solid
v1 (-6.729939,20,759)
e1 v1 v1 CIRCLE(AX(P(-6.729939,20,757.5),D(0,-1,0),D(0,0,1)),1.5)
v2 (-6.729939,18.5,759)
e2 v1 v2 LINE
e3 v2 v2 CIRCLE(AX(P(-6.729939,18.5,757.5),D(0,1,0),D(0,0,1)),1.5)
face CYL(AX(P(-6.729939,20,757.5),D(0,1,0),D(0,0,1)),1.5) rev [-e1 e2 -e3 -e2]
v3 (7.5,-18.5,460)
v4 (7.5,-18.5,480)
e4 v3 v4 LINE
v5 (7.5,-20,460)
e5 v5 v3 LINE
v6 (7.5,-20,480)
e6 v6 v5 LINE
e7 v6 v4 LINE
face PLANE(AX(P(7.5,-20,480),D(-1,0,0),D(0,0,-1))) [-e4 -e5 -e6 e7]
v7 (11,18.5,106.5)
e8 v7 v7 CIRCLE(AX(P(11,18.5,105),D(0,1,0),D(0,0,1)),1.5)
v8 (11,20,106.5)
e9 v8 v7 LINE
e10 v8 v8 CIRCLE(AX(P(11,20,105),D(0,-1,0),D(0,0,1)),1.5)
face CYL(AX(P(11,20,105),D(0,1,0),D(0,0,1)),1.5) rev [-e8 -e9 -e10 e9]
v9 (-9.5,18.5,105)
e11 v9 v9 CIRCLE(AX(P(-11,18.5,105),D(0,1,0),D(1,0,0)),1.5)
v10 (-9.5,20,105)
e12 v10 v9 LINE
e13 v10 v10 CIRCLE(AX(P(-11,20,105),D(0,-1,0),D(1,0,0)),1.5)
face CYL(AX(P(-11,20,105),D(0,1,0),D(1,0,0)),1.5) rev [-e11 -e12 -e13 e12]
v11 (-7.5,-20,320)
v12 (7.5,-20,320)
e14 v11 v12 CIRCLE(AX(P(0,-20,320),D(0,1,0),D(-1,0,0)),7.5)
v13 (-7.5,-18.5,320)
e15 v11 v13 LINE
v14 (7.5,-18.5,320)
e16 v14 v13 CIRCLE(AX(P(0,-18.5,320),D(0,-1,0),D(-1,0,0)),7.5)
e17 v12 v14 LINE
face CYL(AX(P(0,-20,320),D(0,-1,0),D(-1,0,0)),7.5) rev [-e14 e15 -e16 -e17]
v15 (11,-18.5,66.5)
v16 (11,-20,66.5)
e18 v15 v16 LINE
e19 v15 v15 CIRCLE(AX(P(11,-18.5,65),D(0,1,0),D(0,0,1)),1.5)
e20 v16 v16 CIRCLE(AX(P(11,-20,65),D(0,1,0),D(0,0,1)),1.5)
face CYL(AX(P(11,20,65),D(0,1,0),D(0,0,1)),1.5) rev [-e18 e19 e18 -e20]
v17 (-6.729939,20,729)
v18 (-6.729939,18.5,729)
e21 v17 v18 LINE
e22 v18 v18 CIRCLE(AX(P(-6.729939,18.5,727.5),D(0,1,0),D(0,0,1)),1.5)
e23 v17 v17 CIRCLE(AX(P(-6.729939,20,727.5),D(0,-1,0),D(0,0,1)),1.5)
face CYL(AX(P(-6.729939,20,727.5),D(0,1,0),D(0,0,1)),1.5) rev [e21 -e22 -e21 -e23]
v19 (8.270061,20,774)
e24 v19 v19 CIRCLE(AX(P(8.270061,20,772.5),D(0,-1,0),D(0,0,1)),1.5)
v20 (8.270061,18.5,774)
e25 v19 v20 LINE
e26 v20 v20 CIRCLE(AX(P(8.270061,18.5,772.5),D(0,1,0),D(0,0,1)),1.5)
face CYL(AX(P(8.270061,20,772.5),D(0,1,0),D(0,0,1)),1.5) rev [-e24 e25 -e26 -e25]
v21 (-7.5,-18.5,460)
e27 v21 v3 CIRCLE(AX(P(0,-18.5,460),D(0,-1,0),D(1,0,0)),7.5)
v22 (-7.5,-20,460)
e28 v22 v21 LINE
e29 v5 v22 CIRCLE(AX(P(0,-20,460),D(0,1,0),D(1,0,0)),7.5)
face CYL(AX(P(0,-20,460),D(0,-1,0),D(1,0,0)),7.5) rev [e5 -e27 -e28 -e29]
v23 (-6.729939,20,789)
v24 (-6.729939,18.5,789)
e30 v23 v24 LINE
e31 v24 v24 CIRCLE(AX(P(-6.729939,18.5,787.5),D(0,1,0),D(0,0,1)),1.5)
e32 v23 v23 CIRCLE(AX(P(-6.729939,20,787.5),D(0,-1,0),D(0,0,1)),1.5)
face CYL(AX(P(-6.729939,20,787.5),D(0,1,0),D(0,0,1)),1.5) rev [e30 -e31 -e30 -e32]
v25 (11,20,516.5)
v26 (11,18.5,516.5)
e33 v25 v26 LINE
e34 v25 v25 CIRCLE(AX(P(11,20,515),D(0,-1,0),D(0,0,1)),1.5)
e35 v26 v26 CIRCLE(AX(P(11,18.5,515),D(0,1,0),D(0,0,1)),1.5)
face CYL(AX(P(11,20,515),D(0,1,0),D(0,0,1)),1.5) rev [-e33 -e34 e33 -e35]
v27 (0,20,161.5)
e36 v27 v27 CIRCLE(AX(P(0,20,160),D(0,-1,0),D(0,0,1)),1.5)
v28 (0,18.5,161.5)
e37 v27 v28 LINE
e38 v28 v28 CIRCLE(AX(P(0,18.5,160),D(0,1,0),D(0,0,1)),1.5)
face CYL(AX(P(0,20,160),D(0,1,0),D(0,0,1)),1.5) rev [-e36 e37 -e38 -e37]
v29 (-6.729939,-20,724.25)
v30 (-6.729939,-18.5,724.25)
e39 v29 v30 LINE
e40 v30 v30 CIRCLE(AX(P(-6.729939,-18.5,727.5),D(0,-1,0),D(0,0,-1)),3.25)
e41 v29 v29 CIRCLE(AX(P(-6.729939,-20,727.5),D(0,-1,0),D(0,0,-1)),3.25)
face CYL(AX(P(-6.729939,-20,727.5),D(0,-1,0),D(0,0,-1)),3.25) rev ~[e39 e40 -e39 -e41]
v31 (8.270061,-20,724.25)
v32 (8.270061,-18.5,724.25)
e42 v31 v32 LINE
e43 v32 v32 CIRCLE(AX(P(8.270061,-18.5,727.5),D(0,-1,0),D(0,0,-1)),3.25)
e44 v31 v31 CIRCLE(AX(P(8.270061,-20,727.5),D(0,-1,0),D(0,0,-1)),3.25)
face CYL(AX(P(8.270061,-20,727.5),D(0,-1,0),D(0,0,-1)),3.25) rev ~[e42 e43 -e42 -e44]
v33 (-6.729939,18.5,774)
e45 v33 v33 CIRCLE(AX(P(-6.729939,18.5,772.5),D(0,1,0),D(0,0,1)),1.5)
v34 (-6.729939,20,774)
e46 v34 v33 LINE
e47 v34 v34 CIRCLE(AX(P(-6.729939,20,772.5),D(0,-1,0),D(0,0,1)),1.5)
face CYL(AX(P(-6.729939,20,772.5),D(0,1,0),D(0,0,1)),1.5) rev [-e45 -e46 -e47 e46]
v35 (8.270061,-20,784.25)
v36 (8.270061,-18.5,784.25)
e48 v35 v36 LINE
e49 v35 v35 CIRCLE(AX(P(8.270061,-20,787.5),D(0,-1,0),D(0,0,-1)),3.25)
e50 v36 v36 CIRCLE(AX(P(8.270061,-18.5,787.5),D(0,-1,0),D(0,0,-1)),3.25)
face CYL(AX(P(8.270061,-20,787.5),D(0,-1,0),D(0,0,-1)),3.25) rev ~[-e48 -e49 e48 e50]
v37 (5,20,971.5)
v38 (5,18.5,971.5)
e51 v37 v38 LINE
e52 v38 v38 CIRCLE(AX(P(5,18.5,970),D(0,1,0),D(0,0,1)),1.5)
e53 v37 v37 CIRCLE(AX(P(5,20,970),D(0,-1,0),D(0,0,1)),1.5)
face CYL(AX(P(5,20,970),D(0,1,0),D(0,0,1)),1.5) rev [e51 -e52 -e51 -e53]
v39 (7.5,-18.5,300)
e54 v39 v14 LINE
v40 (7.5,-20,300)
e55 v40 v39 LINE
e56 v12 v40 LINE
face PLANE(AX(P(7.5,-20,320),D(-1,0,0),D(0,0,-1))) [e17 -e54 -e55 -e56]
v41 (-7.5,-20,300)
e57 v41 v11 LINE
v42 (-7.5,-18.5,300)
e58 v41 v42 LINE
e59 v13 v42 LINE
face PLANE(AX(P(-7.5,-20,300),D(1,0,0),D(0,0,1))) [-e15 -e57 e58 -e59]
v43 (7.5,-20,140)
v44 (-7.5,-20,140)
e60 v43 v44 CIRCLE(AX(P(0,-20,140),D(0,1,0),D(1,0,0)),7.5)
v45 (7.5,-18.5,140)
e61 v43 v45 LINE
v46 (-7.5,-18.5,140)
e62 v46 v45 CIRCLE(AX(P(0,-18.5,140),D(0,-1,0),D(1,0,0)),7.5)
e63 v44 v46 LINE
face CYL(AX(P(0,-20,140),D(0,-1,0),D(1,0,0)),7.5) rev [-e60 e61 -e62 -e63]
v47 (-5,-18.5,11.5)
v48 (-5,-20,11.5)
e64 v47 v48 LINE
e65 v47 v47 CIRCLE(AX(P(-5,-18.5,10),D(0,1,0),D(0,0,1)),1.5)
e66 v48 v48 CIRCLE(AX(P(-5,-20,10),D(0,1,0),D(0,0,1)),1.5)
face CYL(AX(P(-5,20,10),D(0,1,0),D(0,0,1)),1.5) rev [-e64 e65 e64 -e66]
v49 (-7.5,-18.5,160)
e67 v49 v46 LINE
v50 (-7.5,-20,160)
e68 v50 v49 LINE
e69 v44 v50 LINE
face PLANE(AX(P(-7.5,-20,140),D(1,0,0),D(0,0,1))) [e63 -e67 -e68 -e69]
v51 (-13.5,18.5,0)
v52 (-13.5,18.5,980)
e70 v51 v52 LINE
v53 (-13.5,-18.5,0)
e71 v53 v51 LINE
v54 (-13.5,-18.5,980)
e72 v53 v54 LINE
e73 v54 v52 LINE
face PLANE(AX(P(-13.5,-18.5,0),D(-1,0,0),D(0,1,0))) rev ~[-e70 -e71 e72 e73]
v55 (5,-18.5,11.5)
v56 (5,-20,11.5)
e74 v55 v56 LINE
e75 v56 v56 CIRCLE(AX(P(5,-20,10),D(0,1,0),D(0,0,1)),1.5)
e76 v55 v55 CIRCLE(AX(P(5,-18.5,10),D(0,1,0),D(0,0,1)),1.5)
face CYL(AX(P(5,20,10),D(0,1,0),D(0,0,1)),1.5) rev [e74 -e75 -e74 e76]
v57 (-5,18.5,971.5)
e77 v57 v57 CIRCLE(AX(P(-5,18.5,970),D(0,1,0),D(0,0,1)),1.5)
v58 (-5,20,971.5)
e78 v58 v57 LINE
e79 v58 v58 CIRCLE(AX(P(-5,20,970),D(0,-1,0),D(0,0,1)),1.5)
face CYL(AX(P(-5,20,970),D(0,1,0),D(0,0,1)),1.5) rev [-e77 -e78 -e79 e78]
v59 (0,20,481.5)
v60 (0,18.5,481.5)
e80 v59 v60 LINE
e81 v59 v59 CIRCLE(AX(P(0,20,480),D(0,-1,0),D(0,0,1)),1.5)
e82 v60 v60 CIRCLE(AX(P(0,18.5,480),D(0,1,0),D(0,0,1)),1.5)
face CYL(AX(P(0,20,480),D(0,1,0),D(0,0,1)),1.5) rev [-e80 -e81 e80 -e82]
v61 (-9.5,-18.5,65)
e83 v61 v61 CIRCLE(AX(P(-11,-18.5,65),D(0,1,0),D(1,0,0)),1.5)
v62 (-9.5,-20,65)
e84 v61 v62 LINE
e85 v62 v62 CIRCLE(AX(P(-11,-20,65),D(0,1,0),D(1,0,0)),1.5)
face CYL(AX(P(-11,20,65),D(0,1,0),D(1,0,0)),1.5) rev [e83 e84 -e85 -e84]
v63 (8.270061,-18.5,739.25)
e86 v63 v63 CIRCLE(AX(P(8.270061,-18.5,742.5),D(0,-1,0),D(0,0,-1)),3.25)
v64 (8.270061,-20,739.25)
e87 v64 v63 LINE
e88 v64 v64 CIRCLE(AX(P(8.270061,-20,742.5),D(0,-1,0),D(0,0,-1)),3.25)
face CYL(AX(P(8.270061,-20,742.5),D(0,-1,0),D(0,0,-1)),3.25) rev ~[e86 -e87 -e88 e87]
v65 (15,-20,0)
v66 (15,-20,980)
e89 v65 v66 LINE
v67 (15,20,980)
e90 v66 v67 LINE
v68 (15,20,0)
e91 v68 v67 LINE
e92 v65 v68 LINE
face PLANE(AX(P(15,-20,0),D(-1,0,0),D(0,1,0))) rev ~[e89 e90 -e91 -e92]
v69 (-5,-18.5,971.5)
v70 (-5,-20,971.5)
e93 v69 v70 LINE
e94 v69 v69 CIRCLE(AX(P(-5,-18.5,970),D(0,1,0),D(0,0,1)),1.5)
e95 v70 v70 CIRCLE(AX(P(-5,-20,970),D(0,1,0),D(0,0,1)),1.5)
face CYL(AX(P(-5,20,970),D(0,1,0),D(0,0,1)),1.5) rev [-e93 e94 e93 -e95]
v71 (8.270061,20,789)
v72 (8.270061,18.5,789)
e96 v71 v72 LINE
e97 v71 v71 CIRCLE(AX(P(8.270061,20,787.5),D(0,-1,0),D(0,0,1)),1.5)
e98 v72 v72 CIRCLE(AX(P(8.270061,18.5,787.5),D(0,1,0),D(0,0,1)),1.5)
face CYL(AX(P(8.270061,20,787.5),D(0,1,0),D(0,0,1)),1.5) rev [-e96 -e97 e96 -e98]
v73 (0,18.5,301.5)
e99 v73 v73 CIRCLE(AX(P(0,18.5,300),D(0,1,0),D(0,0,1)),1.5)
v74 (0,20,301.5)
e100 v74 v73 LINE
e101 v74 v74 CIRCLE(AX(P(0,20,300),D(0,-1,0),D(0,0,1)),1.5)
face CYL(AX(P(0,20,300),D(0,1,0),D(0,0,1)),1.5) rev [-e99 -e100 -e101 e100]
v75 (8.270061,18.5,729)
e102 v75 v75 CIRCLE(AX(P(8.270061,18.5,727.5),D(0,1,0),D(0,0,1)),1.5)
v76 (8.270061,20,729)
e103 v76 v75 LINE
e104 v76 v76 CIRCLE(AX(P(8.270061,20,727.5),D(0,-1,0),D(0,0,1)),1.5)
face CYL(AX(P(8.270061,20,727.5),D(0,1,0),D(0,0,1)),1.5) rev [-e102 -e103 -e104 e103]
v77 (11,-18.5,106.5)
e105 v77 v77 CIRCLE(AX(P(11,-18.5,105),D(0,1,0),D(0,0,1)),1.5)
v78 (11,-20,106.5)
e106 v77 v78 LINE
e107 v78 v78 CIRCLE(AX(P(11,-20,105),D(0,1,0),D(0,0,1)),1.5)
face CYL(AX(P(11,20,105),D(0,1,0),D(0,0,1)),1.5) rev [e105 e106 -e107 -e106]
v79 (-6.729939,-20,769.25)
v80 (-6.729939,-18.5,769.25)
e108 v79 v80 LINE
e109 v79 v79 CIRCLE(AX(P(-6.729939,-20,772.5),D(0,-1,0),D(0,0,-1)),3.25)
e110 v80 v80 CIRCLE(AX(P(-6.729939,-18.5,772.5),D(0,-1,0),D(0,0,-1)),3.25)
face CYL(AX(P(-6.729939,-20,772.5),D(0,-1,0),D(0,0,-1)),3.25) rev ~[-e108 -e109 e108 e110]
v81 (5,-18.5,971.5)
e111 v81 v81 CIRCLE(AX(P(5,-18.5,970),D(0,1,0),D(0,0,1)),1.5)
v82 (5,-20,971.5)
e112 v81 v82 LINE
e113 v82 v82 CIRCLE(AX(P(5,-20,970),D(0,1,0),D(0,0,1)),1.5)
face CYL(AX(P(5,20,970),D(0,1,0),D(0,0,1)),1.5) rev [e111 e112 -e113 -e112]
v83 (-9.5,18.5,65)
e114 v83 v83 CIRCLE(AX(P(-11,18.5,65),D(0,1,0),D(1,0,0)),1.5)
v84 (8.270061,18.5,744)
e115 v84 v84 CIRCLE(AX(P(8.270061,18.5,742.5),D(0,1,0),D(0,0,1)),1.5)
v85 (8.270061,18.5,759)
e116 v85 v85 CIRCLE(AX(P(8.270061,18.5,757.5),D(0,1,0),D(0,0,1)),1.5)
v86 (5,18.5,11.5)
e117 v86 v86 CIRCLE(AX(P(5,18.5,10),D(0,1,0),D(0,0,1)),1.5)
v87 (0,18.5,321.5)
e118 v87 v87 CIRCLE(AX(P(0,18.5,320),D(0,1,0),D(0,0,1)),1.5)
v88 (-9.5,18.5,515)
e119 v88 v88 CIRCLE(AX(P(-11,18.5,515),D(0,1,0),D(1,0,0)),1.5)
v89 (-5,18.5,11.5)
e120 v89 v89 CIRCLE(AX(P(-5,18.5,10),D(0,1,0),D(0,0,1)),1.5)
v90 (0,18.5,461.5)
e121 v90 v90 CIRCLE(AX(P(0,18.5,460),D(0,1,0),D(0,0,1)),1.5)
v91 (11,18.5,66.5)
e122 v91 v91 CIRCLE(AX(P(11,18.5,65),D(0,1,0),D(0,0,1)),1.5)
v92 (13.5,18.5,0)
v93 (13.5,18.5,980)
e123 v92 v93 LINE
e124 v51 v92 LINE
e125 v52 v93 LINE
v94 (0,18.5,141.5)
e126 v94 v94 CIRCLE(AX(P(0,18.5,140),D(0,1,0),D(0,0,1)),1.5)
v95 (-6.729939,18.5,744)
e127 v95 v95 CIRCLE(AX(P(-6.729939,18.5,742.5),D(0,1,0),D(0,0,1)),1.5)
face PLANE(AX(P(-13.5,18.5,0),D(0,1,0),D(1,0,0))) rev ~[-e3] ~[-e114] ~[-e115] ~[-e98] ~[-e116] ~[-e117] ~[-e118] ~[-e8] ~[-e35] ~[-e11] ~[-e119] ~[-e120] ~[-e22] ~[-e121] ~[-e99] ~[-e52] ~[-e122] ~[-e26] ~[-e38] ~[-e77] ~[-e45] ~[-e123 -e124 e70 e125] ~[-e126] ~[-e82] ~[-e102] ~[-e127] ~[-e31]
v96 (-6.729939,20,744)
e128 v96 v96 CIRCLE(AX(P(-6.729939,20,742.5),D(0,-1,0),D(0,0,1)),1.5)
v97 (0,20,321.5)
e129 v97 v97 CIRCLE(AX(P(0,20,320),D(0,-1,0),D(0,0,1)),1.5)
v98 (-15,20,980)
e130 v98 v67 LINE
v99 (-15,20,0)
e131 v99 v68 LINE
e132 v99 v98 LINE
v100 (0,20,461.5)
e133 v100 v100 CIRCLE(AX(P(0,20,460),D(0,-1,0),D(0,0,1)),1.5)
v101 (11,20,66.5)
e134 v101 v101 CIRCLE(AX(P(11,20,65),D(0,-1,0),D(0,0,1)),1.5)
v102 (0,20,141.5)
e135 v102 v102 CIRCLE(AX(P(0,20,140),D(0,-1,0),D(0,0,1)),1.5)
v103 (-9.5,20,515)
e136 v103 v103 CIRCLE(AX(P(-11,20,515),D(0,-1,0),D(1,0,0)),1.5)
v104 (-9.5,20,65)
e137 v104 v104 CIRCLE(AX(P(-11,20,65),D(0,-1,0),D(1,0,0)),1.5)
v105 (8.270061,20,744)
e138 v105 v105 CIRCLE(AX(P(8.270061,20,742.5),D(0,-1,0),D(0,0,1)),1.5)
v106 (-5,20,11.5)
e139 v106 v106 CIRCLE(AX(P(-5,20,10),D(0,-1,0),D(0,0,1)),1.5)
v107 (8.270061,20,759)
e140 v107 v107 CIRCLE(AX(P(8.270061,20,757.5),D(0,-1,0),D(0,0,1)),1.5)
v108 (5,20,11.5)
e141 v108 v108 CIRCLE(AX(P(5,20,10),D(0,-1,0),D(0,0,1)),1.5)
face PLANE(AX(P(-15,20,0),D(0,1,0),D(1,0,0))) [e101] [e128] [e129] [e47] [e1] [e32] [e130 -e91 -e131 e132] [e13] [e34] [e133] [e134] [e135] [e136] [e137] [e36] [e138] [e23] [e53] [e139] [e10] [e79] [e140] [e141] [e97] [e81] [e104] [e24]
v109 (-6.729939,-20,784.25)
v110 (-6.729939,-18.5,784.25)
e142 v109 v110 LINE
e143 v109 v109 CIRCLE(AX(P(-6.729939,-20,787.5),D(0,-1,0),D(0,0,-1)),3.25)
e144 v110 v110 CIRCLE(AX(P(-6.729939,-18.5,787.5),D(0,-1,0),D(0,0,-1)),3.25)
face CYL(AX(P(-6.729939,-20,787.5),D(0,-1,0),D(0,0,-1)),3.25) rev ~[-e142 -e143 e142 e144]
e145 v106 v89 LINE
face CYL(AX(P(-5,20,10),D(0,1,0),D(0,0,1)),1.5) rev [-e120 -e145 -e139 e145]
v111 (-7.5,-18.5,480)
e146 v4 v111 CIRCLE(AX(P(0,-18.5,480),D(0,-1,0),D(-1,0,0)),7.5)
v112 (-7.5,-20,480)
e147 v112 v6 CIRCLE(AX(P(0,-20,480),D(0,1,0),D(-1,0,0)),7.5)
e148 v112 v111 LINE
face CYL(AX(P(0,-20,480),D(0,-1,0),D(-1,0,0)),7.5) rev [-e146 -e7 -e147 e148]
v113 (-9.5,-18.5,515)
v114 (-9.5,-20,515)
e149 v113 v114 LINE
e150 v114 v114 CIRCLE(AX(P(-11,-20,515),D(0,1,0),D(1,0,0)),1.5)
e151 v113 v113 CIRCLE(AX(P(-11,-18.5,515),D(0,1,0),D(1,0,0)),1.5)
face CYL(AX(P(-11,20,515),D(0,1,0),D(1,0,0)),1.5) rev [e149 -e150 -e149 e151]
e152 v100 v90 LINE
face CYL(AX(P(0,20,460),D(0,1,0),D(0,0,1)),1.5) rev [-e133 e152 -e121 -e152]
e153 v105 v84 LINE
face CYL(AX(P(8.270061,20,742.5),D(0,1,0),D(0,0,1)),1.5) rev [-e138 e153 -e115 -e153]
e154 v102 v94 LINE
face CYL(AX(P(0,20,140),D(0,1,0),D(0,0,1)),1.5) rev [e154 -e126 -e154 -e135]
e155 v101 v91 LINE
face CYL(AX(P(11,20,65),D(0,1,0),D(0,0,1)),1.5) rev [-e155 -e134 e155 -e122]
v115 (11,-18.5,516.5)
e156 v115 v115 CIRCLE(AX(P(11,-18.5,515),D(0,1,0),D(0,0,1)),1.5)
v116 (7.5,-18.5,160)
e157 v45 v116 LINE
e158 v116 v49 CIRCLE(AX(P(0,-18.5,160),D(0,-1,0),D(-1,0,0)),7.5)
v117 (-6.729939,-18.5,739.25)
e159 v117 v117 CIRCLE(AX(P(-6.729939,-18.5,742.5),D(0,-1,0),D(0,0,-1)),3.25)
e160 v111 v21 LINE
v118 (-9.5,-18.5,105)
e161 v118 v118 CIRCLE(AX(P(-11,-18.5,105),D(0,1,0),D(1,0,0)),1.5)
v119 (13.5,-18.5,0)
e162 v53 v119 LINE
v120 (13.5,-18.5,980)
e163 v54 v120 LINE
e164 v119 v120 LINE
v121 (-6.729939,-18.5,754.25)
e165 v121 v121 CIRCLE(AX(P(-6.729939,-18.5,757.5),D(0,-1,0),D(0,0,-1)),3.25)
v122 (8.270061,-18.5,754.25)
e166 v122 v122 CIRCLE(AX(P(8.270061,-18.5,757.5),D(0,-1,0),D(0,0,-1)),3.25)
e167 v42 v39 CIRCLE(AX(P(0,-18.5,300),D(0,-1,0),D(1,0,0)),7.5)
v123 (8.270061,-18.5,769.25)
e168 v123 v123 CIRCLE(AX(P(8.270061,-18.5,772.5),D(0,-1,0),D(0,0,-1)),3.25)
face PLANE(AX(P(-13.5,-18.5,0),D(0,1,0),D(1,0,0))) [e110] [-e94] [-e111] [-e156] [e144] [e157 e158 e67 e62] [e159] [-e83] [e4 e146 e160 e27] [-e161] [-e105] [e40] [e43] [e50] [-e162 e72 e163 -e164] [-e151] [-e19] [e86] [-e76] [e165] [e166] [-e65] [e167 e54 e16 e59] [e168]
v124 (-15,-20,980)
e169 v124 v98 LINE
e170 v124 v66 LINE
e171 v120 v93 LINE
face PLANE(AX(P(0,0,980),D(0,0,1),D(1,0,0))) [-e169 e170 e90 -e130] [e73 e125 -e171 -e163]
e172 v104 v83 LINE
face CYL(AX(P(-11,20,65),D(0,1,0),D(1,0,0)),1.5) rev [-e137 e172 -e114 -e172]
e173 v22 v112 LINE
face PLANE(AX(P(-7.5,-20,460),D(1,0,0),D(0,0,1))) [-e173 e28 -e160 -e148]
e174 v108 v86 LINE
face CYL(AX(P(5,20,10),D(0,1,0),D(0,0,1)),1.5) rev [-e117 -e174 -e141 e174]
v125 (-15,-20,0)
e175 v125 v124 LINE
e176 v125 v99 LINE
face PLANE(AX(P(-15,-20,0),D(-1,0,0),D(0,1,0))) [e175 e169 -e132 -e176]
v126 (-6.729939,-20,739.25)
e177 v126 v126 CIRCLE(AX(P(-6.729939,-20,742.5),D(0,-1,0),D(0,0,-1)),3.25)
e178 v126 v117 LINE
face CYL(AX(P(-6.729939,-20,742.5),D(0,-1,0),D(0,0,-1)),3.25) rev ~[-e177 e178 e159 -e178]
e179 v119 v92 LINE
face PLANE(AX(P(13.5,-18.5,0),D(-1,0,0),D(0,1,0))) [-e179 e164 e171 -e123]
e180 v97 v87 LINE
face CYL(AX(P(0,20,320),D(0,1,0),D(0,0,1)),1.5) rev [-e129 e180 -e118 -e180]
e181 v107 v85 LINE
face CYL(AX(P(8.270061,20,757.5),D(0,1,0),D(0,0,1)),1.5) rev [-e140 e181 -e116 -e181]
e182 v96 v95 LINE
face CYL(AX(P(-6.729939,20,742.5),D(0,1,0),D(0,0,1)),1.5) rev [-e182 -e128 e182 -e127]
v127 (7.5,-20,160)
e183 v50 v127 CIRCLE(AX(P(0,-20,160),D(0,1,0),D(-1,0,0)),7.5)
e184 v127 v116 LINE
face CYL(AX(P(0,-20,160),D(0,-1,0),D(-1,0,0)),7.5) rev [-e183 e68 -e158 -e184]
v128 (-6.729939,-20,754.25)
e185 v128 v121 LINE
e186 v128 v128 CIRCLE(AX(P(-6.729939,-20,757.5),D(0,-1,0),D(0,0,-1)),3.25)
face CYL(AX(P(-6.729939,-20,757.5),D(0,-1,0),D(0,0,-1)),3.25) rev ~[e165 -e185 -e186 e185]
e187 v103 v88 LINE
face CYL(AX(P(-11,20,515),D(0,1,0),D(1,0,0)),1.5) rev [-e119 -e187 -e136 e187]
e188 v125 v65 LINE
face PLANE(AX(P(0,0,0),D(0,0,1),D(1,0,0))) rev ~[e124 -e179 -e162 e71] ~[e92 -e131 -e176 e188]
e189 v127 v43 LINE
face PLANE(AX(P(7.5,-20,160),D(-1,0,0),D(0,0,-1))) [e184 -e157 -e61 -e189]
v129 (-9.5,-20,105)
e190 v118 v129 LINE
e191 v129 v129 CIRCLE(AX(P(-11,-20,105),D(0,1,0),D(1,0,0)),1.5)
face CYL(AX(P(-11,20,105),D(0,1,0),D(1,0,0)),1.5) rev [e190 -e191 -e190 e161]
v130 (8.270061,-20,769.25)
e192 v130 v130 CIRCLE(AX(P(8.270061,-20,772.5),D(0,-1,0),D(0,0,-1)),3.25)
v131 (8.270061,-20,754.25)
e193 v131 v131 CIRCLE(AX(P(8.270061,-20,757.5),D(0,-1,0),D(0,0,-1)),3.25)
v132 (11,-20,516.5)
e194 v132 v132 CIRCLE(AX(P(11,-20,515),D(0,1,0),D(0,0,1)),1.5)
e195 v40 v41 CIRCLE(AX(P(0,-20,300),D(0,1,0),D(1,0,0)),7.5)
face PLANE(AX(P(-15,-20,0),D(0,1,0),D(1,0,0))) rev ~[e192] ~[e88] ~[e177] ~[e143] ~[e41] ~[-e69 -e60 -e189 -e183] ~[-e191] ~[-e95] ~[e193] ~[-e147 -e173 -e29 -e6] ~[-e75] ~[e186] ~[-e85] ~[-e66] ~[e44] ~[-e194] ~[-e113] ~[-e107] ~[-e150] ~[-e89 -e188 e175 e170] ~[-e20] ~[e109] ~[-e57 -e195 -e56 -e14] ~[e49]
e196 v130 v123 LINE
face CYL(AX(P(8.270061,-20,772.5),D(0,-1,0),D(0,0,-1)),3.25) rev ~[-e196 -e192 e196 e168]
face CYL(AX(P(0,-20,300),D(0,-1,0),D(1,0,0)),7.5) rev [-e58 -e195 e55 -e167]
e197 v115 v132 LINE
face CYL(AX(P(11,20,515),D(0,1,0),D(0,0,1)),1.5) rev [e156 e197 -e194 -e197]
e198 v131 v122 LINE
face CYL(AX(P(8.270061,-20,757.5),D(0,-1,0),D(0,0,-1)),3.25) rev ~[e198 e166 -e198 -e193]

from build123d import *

# Parameters (mm, degrees)
SKETCH_1_W             = 30
SKETCH_1_H             = 40
SKETCH_1_W_2           = 27
SKETCH_1_H_2           = 37
EXTRUDE_1_DEPTH        = 980
SKETCH_2_R             = 1.5
CUT_EXTRUDE_1_DEPTH    = 1040
SKETCH_3_R             = 1.5
CUT_EXTRUDE_2_DEPTH    = 981.930680527
SKETCH_4_R             = 1.5
CUT_EXTRUDE_3_DEPTH    = 981.930680527
SKETCH_5_R             = 1.5
CUT_EXTRUDE_4_DEPTH    = 981.930680527
CUT_EXTRUDE_6_DEPTH    = 10
SKETCH_9_R             = 3.25
CUT_EXTRUDE_7_DEPTH    = 10
PATTERN_LINEAR_1_COUNT = 4
PATTERN_LINEAR_1_PITCH = 15


with BuildPart() as part:
    # 草图1 → 凸台-拉伸1 (new body)
    with BuildSketch(Plane.XY):
        Rectangle(SKETCH_1_W, SKETCH_1_H)
        Rectangle(SKETCH_1_W_2, SKETCH_1_H_2, mode=Mode.SUBTRACT)
    extrude(amount=EXTRUDE_1_DEPTH)

    # 草图2 → 切除-拉伸1 (cut)
    with BuildSketch(Plane(origin=(0, 20, 0), x_dir=(-1, 0, 0), z_dir=(0, -1, 0))):
        with Locations((11, -65)):
            Circle(SKETCH_2_R)
        with Locations((-11, -65)):
            Circle(SKETCH_2_R)
        with Locations((11, -515)):
            Circle(SKETCH_2_R)
        with Locations((-11, -515)):
            Circle(SKETCH_2_R)
        with Locations((11, -105)):
            Circle(SKETCH_2_R)
        with Locations((-11, -105)):
            Circle(SKETCH_2_R)
    extrude(amount=CUT_EXTRUDE_1_DEPTH, mode=Mode.SUBTRACT)

    # 草图3 → 切除-拉伸2 (cut, through all)
    with BuildSketch(Plane(origin=(0, 20, 0), x_dir=(-1, 0, 0), z_dir=(0, -1, 0))):
        with Locations((5, -10)):
            Circle(SKETCH_3_R)
        with Locations((-5, -10)):
            Circle(SKETCH_3_R)
        with Locations((-5, -970)):
            Circle(SKETCH_3_R)
        with Locations((5, -970)):
            Circle(SKETCH_3_R)
    extrude(amount=CUT_EXTRUDE_2_DEPTH, mode=Mode.SUBTRACT)

    # 草图4 → 切除-拉伸3 (cut, through all)
    with BuildSketch(Plane(origin=(0, 20, 0), x_dir=(-1, 0, 0), z_dir=(0, -1, 0))):
        with Locations((-8.27006126, -772.5)):
            Circle(SKETCH_4_R)
        with Locations((6.72993874, -772.5)):
            Circle(SKETCH_4_R)
        with Locations((6.72993874, -787.5)):
            Circle(SKETCH_4_R)
        with Locations((-8.27006126, -787.5)):
            Circle(SKETCH_4_R)
    cut_extrude_3 = extrude(amount=CUT_EXTRUDE_3_DEPTH, mode=Mode.SUBTRACT)

    # 草图5 → 切除-拉伸4 (cut, through all)
    with BuildSketch(Plane(origin=(0, 20, 0), x_dir=(-1, 0, 0), z_dir=(0, -1, 0))):
        with Locations((0, -140)):
            Circle(SKETCH_5_R)
        with Locations((0, -160)):
            Circle(SKETCH_5_R)
        with Locations((0, -300)):
            Circle(SKETCH_5_R)
        with Locations((0, -320)):
            Circle(SKETCH_5_R)
        with Locations((0, -480)):
            Circle(SKETCH_5_R)
        with Locations((0, -460)):
            Circle(SKETCH_5_R)
    extrude(amount=CUT_EXTRUDE_4_DEPTH, mode=Mode.SUBTRACT)

    # 草图8 → 切除-拉伸6 (cut)
    with BuildSketch(Plane.XZ.offset(20)):
        with BuildLine():
            Line((7.5, 160), (7.5, 140))
            ThreePointArc((7.5, 140), (0, 132.5), (-7.5, 140))
            Line((-7.5, 140), (-7.5, 160))
            ThreePointArc((-7.5, 160), (0, 167.5), (7.5, 160))
        make_face()
        with BuildLine():
            Line((7.5, 480), (7.5, 460))
            ThreePointArc((7.5, 460), (0, 452.5), (-7.5, 460))
            Line((-7.5, 460), (-7.5, 480))
            ThreePointArc((-7.5, 480), (0, 487.5), (7.5, 480))
        make_face()
        with BuildLine():
            Line((7.5, 320), (7.5, 300))
            ThreePointArc((7.5, 300), (0, 292.5), (-7.5, 300))
            Line((-7.5, 300), (-7.5, 320))
            ThreePointArc((-7.5, 320), (0, 327.5), (7.5, 320))
        make_face()
    extrude(amount=-CUT_EXTRUDE_6_DEPTH, mode=Mode.SUBTRACT)

    # 草图9 → 切除-拉伸7 (cut)
    with BuildSketch(Plane.XZ.offset(20)):
        with Locations((-6.72993874, 787.5)):
            Circle(SKETCH_9_R)
        with Locations((-6.72993874, 772.5)):
            Circle(SKETCH_9_R)
        with Locations((8.27006126, 772.5)):
            Circle(SKETCH_9_R)
        with Locations((8.27006126, 787.5)):
            Circle(SKETCH_9_R)
    cut_extrude_7 = extrude(amount=-CUT_EXTRUDE_7_DEPTH, mode=Mode.SUBTRACT)

    # 阵列(线性)1: 切除-拉伸3, 切除-拉伸7 ×4
    with Locations(*[(0, 0, -i * PATTERN_LINEAR_1_PITCH) for i in range(1, PATTERN_LINEAR_1_COUNT)]):
        add(cut_extrude_3, mode=Mode.SUBTRACT)
        add(cut_extrude_7, mode=Mode.SUBTRACT)


solid = part.part
